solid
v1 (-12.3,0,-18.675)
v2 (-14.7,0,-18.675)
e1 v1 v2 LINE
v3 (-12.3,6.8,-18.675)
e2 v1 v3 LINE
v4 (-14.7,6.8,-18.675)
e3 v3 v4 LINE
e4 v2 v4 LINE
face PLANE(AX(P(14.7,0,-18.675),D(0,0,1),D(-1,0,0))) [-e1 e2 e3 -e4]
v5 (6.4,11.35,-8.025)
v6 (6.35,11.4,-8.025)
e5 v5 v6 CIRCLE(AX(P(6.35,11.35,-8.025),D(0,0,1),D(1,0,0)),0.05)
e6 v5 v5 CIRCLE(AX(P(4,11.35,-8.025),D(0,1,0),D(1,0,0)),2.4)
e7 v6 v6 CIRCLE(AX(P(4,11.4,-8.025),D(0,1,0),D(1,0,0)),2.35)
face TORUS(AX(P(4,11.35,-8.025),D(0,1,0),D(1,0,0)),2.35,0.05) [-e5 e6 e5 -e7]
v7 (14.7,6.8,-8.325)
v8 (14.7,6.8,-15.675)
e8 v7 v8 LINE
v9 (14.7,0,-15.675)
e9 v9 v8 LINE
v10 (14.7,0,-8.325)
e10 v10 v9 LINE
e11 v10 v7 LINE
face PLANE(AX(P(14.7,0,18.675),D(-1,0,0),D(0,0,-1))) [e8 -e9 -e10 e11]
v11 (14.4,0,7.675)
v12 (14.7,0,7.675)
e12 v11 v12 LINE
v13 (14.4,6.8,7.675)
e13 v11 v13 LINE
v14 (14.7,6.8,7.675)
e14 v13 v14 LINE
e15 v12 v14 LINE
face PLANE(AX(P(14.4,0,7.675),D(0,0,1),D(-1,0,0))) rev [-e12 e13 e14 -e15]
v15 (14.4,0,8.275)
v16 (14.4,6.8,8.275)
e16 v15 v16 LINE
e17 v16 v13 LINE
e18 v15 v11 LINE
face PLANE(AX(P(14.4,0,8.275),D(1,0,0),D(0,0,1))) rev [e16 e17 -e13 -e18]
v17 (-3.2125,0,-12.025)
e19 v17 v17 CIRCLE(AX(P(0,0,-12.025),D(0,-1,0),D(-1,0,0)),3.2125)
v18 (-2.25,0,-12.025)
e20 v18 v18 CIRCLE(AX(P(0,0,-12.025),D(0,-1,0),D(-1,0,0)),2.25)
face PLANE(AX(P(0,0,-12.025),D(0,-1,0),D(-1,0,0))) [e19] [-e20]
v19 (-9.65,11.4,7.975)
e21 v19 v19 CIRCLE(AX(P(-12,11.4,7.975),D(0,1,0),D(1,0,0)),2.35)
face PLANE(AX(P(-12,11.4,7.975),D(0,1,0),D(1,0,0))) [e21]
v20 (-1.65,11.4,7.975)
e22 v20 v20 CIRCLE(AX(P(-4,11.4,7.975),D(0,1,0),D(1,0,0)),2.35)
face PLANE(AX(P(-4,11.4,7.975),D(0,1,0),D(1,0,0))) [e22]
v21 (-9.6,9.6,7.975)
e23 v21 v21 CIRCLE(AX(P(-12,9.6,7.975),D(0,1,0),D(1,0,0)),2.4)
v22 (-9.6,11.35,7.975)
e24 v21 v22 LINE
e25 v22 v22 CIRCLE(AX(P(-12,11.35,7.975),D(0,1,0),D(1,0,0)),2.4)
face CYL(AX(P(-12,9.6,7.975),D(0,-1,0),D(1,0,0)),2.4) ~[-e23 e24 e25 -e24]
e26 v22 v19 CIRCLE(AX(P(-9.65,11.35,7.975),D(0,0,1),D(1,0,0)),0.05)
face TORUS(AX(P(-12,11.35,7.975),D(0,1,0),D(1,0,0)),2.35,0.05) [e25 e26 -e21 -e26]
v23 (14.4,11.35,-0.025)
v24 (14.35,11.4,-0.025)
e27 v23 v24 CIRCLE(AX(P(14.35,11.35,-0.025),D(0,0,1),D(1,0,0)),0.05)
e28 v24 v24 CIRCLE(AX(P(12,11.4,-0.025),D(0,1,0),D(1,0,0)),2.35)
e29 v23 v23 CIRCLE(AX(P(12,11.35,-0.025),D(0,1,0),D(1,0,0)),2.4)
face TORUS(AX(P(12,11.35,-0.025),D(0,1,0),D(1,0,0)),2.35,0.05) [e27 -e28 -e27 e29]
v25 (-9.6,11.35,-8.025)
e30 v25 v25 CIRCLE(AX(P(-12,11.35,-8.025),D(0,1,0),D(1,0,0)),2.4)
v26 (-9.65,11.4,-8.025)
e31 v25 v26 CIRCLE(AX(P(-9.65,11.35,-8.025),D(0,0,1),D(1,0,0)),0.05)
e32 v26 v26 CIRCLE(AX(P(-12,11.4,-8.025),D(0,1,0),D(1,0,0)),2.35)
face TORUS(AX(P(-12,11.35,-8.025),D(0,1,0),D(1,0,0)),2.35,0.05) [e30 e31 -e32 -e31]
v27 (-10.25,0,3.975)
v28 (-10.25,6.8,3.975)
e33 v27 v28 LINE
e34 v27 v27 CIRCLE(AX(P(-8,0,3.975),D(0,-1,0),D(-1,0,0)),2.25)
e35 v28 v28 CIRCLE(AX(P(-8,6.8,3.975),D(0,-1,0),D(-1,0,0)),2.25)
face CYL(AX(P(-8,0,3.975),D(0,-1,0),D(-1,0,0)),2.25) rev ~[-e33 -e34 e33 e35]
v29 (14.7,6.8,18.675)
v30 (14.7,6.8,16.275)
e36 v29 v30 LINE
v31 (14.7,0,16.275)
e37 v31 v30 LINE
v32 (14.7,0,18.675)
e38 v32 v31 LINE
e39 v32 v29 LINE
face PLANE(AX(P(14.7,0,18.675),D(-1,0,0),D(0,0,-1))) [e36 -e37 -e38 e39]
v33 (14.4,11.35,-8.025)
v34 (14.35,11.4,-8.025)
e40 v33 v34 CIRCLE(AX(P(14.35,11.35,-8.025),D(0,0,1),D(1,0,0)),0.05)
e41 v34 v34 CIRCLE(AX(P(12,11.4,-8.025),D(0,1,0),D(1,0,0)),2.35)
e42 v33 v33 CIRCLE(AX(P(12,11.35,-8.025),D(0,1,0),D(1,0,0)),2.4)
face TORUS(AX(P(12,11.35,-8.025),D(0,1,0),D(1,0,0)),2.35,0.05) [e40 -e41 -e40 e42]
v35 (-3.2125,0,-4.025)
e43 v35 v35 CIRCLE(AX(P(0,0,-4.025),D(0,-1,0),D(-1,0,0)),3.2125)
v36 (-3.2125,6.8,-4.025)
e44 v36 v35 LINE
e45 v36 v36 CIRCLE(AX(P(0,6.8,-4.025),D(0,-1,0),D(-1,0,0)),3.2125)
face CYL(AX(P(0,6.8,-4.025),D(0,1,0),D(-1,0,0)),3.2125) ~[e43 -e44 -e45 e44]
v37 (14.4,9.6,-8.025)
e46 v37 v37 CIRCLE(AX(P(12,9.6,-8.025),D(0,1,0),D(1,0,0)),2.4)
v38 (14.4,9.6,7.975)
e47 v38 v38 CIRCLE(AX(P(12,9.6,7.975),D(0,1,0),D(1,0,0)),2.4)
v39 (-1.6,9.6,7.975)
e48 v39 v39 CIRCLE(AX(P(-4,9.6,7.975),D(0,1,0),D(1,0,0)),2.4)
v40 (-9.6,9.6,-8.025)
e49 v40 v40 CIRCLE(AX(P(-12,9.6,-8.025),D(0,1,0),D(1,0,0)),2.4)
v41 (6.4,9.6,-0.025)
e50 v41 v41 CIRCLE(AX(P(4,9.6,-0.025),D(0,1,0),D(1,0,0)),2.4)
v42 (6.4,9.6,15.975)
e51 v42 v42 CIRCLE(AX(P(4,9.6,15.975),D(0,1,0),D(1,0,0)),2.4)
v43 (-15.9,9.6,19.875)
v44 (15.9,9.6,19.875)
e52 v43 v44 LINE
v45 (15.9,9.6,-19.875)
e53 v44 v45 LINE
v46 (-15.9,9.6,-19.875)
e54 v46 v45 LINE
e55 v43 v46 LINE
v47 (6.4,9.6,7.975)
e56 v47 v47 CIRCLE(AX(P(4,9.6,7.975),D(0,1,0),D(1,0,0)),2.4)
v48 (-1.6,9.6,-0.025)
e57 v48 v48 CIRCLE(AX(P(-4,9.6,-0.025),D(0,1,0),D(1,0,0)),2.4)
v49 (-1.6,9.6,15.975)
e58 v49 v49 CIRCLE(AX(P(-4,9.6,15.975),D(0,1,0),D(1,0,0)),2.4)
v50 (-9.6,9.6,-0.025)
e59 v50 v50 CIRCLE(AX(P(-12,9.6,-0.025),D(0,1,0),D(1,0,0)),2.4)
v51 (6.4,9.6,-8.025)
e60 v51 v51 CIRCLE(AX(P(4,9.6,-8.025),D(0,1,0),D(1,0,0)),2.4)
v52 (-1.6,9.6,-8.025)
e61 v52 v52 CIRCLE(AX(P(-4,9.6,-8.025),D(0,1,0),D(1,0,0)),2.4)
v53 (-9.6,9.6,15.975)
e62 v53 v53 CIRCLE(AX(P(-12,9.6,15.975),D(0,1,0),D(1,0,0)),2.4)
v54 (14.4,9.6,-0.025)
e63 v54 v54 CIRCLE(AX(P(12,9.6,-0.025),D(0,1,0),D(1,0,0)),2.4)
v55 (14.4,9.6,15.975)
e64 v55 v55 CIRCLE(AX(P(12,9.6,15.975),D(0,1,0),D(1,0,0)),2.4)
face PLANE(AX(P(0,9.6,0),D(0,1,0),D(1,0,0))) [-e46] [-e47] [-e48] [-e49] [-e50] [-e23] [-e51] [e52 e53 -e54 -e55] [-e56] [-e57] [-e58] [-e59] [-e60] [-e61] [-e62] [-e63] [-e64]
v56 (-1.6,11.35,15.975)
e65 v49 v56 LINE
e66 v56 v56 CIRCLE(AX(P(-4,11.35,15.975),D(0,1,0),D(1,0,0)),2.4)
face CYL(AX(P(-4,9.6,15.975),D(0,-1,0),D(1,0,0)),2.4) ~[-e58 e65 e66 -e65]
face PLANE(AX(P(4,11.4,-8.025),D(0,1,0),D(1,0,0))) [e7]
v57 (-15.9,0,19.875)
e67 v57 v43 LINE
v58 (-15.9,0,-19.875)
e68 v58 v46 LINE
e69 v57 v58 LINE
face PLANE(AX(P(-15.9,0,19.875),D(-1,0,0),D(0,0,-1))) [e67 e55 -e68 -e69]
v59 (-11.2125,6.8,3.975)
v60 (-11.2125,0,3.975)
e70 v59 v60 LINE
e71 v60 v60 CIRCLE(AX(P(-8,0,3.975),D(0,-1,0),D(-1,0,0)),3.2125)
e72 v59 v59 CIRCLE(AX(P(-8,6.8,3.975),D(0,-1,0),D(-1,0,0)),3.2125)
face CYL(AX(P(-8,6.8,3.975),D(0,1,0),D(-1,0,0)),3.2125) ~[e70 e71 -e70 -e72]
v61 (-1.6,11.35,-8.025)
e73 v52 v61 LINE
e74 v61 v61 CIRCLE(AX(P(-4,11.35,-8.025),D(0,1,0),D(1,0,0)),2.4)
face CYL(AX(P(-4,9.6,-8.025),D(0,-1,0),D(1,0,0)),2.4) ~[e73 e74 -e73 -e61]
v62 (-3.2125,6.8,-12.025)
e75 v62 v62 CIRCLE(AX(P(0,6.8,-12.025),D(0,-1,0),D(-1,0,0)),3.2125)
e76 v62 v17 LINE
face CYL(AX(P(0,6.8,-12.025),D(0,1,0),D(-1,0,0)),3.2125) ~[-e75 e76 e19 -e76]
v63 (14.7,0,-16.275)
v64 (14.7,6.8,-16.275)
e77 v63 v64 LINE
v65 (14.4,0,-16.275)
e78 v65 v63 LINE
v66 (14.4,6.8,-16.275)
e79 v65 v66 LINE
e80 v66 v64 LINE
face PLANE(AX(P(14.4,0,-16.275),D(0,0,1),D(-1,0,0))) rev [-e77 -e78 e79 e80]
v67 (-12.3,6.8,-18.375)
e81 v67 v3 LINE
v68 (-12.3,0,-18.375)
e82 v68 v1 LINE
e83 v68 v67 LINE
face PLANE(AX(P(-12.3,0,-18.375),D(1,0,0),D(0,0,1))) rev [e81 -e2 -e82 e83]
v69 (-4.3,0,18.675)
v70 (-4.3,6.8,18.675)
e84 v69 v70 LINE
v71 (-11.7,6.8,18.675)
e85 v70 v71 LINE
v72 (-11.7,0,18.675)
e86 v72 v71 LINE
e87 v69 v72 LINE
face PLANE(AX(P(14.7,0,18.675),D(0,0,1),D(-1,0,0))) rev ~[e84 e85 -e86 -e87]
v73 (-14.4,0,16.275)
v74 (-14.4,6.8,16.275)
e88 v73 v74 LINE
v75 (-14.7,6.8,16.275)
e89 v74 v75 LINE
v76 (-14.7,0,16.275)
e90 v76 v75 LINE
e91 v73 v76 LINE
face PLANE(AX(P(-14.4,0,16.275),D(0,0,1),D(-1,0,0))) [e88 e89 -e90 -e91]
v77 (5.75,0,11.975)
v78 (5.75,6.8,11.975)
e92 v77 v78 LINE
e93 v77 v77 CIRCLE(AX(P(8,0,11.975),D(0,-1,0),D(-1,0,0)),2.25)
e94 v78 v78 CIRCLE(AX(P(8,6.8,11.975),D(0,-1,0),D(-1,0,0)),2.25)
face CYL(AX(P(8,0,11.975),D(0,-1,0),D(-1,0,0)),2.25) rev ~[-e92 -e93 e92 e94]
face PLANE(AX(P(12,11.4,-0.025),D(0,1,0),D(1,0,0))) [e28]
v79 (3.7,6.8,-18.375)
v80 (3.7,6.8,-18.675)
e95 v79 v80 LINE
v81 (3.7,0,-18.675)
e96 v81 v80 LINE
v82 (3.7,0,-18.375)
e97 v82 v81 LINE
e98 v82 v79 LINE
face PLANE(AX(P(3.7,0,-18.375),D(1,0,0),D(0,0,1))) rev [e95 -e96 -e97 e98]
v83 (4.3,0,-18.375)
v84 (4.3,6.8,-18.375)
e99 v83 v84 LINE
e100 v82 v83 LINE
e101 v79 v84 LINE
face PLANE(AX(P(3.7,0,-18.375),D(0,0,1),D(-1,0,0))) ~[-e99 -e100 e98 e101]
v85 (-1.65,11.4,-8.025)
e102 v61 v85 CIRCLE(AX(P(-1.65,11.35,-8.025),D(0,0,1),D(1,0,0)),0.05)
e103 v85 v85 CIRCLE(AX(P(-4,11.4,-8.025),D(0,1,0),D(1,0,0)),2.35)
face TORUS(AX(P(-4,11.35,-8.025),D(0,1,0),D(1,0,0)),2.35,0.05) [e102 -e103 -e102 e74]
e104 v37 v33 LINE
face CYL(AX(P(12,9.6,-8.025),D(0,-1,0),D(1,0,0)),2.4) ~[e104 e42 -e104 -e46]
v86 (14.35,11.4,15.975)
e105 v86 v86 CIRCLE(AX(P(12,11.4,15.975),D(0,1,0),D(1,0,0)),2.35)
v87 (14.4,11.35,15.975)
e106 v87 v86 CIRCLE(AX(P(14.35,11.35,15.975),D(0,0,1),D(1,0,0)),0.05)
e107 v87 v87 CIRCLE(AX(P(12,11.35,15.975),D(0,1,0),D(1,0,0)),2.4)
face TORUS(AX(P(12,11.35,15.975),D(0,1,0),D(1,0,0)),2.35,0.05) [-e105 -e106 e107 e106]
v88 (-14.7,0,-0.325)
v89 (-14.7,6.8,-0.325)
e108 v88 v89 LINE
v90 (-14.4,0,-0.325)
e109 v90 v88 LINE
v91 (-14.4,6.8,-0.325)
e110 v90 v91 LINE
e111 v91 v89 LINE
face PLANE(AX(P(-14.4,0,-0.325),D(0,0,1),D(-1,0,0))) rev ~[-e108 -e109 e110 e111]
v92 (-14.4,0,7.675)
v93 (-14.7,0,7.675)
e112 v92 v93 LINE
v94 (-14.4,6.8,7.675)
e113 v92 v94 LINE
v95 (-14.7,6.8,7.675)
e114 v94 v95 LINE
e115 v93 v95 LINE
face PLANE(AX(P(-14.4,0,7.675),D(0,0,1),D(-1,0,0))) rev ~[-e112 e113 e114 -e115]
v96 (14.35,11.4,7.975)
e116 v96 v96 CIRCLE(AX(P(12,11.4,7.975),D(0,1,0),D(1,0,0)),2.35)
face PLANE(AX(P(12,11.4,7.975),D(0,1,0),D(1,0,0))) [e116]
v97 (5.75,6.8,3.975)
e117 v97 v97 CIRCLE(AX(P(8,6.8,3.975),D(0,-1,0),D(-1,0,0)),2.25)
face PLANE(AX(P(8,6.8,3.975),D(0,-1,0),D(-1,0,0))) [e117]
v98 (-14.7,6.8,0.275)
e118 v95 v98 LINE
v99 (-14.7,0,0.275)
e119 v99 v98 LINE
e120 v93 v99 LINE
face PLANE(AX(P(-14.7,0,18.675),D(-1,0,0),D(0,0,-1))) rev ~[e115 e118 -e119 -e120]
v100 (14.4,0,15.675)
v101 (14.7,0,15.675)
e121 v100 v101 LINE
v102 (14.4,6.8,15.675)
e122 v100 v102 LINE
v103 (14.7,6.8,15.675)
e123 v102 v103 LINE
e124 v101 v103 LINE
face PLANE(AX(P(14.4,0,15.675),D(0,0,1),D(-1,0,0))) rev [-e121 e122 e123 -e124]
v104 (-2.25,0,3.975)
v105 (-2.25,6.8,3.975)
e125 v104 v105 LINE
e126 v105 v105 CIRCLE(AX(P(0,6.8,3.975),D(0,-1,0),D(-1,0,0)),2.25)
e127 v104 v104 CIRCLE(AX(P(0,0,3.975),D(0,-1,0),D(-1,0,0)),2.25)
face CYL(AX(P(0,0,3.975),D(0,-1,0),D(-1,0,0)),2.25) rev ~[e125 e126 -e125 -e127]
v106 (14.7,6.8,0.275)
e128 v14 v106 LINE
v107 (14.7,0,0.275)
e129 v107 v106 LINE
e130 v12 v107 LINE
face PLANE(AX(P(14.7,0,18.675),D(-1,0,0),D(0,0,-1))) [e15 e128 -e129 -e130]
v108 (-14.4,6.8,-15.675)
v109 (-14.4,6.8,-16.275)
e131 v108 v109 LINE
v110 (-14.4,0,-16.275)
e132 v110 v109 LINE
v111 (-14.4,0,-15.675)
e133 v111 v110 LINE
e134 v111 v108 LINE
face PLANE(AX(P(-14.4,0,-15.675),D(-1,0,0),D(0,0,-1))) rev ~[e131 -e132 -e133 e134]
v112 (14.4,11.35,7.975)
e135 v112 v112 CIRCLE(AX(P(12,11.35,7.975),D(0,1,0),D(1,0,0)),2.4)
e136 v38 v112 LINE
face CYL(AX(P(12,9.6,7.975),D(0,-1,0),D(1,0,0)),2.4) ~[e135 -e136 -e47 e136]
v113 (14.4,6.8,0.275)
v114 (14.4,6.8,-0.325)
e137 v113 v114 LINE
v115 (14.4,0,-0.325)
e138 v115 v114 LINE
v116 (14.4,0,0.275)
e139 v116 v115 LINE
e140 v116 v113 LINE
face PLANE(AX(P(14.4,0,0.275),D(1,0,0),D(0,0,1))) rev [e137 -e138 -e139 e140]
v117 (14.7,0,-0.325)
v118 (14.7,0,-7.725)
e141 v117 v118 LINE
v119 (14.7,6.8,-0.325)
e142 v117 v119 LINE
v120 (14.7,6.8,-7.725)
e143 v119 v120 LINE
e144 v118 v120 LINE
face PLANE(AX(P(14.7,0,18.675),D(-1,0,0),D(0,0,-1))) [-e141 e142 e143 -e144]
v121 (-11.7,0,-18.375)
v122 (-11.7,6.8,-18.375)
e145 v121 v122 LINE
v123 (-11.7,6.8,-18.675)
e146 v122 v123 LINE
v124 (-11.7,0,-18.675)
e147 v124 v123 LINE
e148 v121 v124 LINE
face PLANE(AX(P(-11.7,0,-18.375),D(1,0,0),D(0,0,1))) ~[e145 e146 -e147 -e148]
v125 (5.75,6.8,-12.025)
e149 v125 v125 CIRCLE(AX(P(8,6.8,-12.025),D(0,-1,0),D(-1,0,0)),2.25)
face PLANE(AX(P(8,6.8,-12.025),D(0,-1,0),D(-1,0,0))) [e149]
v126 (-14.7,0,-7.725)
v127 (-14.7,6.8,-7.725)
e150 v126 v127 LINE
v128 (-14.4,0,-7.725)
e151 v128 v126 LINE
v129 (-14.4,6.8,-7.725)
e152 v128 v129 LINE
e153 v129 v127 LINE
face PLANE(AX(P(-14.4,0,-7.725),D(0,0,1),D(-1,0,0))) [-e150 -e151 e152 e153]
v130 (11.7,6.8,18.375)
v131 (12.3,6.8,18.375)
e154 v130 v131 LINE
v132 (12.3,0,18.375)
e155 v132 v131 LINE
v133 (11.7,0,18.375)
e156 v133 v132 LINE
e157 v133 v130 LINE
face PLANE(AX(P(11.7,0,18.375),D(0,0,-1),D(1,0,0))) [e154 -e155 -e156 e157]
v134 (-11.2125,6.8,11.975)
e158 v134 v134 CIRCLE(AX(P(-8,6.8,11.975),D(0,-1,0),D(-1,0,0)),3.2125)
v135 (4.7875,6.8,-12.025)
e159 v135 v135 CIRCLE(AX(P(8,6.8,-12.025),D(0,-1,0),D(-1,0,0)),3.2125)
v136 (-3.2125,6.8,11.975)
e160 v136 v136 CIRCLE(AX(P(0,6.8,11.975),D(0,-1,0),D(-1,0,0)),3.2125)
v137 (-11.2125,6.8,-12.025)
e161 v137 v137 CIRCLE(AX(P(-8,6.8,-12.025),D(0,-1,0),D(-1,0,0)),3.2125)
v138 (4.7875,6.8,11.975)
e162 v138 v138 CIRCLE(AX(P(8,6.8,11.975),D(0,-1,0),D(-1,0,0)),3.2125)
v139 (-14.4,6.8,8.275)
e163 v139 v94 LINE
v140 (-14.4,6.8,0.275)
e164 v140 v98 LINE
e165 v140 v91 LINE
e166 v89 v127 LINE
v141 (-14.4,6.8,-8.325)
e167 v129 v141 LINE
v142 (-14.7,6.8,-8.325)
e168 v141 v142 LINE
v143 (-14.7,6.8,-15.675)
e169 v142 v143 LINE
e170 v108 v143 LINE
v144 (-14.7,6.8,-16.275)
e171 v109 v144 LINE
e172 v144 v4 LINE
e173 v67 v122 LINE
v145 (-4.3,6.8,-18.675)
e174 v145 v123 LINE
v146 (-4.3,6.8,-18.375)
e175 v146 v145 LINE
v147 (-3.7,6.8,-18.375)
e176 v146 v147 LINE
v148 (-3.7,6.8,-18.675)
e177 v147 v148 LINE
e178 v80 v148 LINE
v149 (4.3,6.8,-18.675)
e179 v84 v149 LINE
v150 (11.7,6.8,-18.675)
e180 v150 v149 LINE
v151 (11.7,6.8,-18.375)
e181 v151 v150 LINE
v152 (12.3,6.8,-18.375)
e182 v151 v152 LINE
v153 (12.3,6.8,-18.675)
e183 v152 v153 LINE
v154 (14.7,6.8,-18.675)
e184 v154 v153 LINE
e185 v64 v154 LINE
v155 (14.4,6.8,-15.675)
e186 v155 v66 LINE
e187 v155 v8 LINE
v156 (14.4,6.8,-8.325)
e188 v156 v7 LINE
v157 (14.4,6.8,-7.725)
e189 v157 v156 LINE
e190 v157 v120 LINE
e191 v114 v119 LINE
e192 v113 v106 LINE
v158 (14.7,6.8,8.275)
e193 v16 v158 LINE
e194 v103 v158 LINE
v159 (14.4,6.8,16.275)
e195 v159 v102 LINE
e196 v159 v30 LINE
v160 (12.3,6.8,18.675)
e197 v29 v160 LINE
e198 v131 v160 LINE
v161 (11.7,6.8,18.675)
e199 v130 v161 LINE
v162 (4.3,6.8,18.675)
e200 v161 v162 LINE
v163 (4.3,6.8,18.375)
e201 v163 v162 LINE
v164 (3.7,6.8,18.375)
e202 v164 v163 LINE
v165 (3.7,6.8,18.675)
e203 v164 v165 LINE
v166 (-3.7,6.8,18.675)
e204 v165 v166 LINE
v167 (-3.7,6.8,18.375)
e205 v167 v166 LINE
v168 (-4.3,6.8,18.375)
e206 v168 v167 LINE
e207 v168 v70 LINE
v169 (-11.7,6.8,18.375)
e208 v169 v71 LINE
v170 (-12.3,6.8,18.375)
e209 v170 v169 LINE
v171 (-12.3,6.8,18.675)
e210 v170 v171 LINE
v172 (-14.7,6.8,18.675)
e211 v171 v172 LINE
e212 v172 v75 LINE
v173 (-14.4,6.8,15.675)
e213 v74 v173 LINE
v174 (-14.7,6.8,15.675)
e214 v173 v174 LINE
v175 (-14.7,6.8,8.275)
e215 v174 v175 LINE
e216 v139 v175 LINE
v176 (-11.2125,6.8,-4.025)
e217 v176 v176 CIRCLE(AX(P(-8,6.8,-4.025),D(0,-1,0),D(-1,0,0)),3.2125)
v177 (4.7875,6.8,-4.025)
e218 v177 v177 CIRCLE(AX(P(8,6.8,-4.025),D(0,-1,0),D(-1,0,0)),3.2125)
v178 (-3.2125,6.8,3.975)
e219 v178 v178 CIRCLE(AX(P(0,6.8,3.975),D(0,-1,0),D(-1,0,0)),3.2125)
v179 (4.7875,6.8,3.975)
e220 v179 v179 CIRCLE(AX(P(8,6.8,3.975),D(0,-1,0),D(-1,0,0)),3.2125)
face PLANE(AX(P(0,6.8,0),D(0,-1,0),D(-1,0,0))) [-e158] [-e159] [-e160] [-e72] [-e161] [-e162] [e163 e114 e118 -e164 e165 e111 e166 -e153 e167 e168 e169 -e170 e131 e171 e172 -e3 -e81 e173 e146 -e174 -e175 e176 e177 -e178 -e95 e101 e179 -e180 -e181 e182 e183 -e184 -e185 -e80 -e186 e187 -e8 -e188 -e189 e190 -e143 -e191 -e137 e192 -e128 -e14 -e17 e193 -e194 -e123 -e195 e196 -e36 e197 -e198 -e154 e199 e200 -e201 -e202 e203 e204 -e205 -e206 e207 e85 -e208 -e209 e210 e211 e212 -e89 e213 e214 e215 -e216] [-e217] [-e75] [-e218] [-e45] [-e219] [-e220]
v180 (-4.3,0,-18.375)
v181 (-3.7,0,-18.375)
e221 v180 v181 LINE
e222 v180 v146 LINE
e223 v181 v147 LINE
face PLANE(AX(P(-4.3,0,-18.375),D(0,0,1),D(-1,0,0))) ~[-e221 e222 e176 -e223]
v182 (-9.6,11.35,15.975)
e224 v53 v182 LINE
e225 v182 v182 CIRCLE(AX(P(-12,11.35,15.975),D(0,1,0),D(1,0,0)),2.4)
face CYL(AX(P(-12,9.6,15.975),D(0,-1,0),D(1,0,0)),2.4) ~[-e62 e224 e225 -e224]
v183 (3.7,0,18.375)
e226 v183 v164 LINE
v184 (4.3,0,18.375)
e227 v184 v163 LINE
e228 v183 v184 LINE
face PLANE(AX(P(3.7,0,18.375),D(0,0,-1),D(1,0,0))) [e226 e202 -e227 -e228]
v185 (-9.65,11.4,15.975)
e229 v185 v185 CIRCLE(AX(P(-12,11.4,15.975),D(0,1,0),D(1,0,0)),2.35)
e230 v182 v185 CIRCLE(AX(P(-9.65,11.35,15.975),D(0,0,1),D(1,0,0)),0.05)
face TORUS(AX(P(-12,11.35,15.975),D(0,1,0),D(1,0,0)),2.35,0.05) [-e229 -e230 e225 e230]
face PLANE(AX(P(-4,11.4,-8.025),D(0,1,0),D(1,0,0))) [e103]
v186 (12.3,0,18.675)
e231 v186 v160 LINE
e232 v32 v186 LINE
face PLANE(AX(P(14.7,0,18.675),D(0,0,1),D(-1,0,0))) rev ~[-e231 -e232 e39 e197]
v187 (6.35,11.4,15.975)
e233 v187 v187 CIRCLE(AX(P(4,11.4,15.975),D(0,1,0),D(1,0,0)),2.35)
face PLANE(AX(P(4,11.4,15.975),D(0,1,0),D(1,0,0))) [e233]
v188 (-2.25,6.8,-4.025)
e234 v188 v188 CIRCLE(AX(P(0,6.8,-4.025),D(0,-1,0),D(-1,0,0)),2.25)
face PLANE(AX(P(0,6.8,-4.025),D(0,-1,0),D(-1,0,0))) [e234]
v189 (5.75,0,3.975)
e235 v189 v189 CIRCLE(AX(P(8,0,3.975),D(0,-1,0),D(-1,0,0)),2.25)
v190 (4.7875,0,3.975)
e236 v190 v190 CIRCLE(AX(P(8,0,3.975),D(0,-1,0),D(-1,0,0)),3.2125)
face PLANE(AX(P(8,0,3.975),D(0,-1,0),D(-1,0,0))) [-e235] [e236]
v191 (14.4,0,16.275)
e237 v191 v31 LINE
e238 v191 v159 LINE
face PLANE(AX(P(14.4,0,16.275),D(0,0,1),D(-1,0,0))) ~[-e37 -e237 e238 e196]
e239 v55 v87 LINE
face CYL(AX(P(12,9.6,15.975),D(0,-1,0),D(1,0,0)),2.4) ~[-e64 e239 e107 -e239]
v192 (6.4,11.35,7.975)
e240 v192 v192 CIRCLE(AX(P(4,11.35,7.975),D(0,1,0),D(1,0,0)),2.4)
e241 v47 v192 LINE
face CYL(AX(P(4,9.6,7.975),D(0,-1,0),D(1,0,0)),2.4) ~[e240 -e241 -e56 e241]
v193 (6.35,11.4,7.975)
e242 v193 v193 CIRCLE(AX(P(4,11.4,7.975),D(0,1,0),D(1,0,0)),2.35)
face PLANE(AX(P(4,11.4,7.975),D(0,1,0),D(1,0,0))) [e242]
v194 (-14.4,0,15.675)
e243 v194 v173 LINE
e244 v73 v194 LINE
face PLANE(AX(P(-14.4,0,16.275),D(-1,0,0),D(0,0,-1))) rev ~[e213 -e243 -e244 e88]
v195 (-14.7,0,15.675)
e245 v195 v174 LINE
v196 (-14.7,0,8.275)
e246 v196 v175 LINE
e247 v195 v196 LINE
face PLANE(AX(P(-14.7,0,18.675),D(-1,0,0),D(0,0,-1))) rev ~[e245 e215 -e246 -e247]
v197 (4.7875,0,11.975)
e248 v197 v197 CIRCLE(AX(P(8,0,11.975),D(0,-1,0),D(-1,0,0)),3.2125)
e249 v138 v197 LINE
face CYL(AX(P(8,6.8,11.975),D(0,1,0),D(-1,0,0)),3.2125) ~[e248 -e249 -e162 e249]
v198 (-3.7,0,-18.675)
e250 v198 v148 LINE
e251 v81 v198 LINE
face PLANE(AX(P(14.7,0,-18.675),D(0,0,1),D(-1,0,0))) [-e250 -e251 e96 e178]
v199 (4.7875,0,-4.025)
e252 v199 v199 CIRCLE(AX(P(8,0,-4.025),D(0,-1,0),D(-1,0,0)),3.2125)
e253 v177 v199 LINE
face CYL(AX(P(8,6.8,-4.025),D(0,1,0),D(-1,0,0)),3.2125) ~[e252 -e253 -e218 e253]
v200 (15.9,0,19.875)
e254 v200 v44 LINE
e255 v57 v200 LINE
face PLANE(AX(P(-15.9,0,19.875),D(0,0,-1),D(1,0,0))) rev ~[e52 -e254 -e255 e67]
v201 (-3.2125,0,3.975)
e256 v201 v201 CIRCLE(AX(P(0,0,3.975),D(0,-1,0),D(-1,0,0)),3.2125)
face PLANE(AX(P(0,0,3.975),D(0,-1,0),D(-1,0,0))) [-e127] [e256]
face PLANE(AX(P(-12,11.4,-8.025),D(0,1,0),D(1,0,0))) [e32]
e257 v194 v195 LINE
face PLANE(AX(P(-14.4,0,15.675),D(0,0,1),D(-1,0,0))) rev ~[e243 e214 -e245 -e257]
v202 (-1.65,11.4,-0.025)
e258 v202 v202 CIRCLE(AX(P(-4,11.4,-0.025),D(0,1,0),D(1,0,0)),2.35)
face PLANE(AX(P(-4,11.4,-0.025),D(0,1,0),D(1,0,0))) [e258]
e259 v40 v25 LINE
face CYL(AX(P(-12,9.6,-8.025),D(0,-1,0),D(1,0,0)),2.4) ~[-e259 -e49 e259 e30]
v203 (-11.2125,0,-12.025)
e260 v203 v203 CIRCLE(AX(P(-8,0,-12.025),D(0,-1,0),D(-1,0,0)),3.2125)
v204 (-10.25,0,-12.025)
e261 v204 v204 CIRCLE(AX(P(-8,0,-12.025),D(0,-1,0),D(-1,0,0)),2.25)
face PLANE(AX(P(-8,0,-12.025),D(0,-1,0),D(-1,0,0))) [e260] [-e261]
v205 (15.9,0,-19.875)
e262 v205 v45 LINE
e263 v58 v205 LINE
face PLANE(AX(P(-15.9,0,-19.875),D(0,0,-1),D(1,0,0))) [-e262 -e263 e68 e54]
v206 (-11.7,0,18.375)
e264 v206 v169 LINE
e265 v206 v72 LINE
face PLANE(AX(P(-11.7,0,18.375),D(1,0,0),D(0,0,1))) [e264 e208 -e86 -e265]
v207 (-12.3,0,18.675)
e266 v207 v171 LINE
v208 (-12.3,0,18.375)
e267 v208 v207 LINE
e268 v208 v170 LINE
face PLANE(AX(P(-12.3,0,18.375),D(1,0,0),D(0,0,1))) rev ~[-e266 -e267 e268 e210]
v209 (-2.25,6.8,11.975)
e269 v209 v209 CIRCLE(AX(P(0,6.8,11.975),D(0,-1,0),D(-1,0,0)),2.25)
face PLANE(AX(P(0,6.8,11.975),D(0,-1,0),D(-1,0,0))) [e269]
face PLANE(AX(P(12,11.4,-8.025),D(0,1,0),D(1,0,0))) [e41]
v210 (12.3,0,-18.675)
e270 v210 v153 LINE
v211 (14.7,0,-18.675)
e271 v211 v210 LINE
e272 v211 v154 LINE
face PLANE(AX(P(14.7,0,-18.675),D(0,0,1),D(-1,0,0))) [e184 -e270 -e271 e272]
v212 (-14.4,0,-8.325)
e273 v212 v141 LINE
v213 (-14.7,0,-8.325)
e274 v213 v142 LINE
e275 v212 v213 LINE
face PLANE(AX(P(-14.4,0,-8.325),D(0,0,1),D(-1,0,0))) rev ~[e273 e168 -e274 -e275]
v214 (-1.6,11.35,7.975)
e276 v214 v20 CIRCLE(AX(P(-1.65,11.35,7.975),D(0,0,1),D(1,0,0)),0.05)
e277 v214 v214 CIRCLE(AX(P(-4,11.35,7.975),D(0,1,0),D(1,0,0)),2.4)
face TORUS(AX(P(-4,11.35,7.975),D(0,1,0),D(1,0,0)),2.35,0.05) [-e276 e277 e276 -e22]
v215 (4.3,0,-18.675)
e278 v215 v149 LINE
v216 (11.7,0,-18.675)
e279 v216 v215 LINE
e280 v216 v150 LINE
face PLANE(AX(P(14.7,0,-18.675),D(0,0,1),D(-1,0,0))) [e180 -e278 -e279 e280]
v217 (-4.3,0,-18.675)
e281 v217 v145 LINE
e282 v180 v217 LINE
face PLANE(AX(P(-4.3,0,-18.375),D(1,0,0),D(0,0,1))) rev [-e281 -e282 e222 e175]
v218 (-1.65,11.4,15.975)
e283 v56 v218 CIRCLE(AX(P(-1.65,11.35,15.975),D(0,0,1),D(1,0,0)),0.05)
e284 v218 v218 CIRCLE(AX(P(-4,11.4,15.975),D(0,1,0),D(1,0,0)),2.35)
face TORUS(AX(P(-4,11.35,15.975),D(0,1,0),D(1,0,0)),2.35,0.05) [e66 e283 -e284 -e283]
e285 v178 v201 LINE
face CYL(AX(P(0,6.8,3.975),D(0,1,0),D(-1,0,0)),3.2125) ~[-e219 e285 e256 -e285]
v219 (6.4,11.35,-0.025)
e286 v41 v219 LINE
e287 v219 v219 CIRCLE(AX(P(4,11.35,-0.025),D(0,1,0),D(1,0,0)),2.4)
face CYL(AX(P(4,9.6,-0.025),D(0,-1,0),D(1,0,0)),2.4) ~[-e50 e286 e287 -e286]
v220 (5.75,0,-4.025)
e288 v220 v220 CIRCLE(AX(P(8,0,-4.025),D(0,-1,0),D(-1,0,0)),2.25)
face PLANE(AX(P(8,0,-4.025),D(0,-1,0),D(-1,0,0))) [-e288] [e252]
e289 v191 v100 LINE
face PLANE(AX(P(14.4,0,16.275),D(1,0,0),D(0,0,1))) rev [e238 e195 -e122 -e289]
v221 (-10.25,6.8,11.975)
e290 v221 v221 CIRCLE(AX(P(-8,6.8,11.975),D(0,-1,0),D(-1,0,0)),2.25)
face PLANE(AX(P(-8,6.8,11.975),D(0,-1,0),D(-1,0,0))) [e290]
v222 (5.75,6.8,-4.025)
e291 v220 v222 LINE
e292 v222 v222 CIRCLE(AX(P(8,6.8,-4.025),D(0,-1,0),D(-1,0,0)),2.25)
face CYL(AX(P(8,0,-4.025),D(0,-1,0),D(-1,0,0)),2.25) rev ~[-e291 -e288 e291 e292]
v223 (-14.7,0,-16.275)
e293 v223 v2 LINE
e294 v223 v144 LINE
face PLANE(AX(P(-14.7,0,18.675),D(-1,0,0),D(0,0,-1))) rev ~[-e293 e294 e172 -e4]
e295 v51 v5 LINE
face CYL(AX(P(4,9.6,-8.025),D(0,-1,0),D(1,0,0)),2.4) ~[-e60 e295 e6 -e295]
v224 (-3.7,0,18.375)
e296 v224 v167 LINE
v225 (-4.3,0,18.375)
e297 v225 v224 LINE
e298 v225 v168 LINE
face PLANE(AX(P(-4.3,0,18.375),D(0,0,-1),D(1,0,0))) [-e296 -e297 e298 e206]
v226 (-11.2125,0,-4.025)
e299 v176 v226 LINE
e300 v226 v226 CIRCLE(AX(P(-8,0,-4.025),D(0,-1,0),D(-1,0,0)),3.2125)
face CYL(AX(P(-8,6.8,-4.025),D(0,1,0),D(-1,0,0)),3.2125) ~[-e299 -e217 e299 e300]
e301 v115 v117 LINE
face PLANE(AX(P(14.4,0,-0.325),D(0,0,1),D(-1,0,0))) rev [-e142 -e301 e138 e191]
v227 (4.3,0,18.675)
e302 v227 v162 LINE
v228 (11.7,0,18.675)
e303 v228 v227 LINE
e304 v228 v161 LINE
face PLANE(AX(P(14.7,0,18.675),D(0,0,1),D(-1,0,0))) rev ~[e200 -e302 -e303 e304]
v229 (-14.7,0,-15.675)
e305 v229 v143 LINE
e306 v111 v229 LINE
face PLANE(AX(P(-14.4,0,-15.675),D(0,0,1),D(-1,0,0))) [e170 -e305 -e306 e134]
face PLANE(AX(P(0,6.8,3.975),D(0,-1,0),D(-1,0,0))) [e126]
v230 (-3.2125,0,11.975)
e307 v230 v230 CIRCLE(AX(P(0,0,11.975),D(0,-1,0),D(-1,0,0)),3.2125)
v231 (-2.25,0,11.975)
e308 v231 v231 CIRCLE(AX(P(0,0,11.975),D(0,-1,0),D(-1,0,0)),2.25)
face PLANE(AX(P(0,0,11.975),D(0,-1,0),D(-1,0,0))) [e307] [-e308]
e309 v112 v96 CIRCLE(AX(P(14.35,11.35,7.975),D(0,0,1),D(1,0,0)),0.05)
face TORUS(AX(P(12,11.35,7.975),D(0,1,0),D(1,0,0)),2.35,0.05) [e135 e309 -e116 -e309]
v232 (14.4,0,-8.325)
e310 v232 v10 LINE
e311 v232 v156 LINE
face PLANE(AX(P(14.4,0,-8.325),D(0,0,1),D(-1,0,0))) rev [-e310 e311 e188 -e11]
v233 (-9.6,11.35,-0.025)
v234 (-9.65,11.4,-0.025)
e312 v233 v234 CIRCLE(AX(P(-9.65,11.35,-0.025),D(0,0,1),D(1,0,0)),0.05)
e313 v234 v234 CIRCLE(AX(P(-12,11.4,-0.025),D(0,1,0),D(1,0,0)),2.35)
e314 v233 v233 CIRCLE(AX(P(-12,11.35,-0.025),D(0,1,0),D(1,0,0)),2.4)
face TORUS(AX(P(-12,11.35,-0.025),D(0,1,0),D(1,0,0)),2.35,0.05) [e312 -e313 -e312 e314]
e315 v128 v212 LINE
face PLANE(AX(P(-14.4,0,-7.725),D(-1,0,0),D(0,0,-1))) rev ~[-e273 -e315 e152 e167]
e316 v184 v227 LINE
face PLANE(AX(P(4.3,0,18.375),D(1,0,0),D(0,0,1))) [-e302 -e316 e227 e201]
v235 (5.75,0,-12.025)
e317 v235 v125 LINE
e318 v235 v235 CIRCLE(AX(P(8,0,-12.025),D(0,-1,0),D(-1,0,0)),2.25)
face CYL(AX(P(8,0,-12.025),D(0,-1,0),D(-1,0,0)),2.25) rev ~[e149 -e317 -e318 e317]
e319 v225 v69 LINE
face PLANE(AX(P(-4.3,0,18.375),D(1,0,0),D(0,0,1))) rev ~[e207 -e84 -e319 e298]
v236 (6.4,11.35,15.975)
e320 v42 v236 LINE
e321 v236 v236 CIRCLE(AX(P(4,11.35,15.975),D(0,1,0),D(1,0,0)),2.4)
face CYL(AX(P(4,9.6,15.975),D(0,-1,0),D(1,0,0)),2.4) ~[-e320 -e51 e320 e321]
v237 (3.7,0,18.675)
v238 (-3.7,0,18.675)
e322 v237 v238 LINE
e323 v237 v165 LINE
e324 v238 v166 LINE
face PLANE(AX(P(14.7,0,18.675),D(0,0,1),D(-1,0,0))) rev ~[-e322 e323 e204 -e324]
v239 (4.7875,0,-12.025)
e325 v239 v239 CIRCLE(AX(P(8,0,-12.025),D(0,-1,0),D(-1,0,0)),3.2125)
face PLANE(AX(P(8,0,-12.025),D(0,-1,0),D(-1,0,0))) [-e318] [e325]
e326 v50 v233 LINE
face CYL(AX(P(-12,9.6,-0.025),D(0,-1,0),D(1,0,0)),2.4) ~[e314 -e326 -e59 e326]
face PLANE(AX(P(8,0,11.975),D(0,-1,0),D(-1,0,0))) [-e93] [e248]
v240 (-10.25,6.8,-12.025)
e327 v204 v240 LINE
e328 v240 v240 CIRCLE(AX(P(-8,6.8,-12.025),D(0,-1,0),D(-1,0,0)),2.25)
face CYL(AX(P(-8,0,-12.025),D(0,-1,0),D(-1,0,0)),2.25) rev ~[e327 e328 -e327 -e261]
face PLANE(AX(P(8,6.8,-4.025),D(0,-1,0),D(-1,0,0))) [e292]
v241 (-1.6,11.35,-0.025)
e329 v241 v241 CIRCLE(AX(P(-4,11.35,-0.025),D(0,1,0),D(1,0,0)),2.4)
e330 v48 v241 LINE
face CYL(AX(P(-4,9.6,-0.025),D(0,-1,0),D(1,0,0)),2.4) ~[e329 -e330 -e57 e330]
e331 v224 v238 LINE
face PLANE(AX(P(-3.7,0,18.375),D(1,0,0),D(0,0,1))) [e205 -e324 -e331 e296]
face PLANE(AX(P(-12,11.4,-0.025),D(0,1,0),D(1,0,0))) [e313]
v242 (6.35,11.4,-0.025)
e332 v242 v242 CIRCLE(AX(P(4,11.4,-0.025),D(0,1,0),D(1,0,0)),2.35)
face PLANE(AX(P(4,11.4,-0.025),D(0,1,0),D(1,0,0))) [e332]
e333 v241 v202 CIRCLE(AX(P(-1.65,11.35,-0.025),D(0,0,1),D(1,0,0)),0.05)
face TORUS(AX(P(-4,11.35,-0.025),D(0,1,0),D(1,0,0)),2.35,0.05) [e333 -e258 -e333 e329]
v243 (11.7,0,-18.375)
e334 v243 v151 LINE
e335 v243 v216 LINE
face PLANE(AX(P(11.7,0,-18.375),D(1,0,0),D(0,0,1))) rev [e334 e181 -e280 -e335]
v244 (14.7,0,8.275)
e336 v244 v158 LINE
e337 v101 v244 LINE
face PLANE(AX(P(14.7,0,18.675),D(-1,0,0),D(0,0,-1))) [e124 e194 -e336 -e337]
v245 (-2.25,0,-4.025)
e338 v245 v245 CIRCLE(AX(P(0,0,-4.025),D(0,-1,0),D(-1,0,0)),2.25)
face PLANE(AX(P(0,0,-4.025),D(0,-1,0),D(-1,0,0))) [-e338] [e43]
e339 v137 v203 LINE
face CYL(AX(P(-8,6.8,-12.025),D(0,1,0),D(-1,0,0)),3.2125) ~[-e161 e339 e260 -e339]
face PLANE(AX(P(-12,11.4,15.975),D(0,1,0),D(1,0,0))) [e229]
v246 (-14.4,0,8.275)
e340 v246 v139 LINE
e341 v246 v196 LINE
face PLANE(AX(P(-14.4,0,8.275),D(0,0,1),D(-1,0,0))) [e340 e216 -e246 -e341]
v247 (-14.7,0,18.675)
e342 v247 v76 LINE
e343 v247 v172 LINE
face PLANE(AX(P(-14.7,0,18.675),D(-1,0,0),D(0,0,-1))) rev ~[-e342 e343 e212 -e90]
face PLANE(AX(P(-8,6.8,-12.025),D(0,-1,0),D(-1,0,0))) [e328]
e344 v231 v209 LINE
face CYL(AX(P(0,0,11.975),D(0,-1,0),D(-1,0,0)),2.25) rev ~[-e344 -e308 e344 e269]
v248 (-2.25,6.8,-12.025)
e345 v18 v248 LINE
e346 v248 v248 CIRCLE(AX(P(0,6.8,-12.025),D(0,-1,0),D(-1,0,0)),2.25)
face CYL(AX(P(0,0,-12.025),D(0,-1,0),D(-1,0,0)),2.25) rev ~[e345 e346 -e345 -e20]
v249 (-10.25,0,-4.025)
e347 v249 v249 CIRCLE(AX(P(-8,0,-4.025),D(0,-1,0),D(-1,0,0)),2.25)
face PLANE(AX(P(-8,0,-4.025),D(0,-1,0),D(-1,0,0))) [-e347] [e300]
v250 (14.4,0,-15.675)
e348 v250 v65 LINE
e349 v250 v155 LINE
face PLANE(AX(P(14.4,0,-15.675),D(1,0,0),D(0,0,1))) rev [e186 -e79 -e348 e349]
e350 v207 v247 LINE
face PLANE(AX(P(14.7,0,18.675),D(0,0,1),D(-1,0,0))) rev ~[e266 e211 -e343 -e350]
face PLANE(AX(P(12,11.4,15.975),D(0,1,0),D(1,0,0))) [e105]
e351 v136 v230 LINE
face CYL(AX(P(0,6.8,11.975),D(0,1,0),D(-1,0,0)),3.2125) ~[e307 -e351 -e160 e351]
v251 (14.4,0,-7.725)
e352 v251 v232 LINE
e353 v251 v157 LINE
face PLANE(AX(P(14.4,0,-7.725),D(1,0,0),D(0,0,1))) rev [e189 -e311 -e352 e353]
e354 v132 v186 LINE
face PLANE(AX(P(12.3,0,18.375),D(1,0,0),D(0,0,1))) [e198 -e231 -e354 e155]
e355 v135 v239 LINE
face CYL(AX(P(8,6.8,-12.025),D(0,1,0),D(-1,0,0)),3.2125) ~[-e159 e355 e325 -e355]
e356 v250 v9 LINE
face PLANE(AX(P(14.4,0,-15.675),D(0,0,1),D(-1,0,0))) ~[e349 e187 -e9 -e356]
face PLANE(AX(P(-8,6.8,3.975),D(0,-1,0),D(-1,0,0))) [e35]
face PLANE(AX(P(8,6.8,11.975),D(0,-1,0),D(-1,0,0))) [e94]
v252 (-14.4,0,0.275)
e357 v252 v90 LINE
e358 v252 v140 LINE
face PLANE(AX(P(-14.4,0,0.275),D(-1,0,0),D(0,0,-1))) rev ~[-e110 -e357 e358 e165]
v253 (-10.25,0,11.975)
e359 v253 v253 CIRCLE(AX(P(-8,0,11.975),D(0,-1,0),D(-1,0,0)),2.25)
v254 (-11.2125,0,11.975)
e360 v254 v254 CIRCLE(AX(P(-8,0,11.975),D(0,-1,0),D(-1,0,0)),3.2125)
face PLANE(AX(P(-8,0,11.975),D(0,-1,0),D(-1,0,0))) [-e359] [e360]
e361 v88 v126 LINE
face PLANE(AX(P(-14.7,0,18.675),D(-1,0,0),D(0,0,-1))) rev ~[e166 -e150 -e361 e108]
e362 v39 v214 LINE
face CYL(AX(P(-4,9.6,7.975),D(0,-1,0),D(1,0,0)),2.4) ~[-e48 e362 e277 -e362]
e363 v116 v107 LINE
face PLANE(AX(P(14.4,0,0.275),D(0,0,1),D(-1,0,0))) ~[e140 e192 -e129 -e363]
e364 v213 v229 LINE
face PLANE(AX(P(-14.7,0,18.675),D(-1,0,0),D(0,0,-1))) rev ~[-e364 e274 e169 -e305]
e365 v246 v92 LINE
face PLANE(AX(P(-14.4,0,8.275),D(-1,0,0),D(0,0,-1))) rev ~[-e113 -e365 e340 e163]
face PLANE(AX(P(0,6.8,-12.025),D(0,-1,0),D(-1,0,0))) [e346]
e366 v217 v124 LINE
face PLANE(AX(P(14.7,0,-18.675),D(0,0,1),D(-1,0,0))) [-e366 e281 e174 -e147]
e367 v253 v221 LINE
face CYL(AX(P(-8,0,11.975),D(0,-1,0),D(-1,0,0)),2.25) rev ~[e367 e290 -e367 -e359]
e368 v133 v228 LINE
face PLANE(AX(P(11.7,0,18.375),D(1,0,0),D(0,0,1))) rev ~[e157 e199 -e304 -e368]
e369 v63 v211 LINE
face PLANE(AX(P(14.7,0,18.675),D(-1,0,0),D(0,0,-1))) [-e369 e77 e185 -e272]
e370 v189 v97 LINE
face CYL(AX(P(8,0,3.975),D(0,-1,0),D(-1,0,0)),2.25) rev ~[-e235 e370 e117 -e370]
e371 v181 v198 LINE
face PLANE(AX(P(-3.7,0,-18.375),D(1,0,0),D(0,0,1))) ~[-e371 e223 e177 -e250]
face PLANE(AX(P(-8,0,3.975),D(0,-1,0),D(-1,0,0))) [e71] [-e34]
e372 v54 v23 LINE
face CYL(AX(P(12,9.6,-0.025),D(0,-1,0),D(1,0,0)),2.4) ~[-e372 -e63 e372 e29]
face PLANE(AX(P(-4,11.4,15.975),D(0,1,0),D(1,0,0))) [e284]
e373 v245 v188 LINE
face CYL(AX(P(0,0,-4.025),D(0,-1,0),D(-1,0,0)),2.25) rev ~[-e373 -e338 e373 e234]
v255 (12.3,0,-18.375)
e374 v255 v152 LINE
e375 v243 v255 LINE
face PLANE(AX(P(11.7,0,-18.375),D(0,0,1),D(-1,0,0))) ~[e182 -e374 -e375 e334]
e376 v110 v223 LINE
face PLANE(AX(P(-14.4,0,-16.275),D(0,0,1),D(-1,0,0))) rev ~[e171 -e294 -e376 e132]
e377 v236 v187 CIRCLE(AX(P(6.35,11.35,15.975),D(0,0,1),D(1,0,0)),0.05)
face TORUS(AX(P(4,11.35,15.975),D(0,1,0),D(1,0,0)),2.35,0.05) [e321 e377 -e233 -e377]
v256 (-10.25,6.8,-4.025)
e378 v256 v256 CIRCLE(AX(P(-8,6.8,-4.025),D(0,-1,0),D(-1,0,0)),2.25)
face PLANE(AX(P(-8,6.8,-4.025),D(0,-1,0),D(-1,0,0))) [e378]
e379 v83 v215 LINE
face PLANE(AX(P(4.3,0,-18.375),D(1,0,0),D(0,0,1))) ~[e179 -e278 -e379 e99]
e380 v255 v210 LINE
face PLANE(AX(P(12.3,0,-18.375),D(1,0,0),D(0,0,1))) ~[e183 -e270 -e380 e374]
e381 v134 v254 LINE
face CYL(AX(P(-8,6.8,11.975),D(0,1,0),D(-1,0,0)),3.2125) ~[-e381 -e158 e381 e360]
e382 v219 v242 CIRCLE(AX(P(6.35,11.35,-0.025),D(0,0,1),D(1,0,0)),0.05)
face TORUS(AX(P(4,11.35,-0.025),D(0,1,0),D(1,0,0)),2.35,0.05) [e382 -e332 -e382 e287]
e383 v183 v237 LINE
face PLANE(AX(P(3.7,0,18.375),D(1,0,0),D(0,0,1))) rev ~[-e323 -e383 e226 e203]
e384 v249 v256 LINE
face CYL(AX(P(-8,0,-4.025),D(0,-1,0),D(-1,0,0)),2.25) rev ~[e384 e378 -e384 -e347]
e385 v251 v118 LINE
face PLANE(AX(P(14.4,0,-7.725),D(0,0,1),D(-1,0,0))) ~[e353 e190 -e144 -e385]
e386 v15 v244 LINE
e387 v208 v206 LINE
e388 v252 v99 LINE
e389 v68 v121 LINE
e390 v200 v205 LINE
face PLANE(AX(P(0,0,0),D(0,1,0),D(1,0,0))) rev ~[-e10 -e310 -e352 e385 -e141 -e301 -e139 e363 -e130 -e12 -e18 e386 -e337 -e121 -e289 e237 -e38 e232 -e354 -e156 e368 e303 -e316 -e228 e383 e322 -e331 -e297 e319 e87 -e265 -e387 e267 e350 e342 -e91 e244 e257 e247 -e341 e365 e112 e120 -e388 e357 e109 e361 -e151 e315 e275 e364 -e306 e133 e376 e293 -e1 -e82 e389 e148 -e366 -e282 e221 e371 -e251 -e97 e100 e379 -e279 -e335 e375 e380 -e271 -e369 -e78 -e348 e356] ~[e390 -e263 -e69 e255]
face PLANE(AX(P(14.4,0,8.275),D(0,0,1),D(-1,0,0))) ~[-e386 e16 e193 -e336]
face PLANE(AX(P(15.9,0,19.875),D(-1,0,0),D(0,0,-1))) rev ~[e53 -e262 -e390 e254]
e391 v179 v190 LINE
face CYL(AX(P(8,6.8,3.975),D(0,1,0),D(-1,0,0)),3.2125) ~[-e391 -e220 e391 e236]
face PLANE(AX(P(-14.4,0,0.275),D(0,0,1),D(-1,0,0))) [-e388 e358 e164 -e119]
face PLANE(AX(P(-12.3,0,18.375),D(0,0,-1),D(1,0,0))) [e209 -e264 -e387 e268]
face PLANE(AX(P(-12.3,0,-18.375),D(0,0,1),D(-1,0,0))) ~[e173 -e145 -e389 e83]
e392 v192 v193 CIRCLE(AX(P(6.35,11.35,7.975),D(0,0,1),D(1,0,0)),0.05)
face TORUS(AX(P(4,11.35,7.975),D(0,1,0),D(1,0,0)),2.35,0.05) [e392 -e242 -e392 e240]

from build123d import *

# Parameters (mm, degrees)
SKETCH1_W                 = 31.8
SKETCH1_H                 = 39.75
BOSS_EXTRUDE1_DEPTH       = 9.6
SKETCH2_R                 = 2.4
BOSS_EXTRUDE2_DEPTH       = 1.8
LPATTERN1_COUNT           = 4
LPATTERN1_PITCH           = 8
LPATTERN2_COUNT           = 4
LPATTERN2_PITCH           = 8
LPATTERN2_COPY_1_SKETCH_R = 2.4
LPATTERN2_COPY_1_DEPTH    = 1.8
LPATTERN2_COPY_2_SKETCH_R = 2.4
LPATTERN2_COPY_2_DEPTH    = 1.8
LPATTERN2_COPY_3_SKETCH_R = 2.4
LPATTERN2_COPY_3_DEPTH    = 1.8
LPATTERN2_COPY_4_SKETCH_R = 2.4
LPATTERN2_COPY_4_DEPTH    = 1.8
LPATTERN2_COPY_5_SKETCH_R = 2.4
LPATTERN2_COPY_5_DEPTH    = 1.8
LPATTERN2_COPY_6_SKETCH_R = 2.4
LPATTERN2_COPY_6_DEPTH    = 1.8
LPATTERN2_COPY_7_SKETCH_R = 2.4
LPATTERN2_COPY_7_DEPTH    = 1.8
LPATTERN2_COPY_8_SKETCH_R = 2.4
LPATTERN2_COPY_8_DEPTH    = 1.8
LPATTERN2_COPY_9_SKETCH_R = 2.4
LPATTERN2_COPY_9_DEPTH    = 1.8
FILLET1_R                 = 0.05
SKETCH3_W                 = 29.4
SKETCH3_H                 = 37.35
CUT_EXTRUDE1_DEPTH        = 6.8
SKETCH4_R                 = 3.2125
BOSS_EXTRUDE3_DEPTH       = 6.8
SKETCH5_R                 = 2.25
CUT_EXTRUDE2_DEPTH        = 6.8
LPATTERN3_COUNT           = 3
LPATTERN3_PITCH           = 8
LPATTERN4_COUNT           = 3
LPATTERN4_PITCH           = 8
LPATTERN4_COPY_1_SKETCH_R = 3.2125
LPATTERN4_COPY_1_DEPTH    = 6.8
LPATTERN4_COPY_2_SKETCH_R = 3.2125
LPATTERN4_COPY_2_DEPTH    = 6.8
LPATTERN4_COPY_3_SKETCH_R = 3.2125
LPATTERN4_COPY_3_DEPTH    = 6.8
LPATTERN4_COPY_4_SKETCH_R = 3.2125
LPATTERN4_COPY_4_DEPTH    = 6.8
LPATTERN4_COPY_5_SKETCH_R = 2.25
LPATTERN4_COPY_5_DEPTH    = 6.8
LPATTERN4_COPY_6_SKETCH_R = 2.25
LPATTERN4_COPY_6_DEPTH    = 6.8
LPATTERN4_COPY_7_SKETCH_R = 2.25
LPATTERN4_COPY_7_DEPTH    = 6.8
LPATTERN4_COPY_8_SKETCH_R = 2.25
LPATTERN4_COPY_8_DEPTH    = 6.8
LPATTERN5_COUNT           = 2
LPATTERN5_PITCH           = 8
LPATTERN5_COPY_1_SKETCH_R = 3.2125
LPATTERN5_COPY_1_DEPTH    = 6.8
LPATTERN5_COPY_2_SKETCH_R = 3.2125
LPATTERN5_COPY_2_DEPTH    = 6.8
LPATTERN5_COPY_3_SKETCH_R = 2.25
LPATTERN5_COPY_3_DEPTH    = 6.8
LPATTERN5_COPY_4_SKETCH_R = 2.25
LPATTERN5_COPY_4_DEPTH    = 6.8
SKETCH6_W                 = 0.3
SKETCH6_H                 = 0.6
BOSS_EXTRUDE4_DEPTH       = 6.8
SKETCH7_W                 = 0.6
SKETCH7_H                 = 0.3
BOSS_EXTRUDE5_DEPTH       = 6.8


with BuildPart() as part:
    # Sketch1 → Boss-Extrude1 (new body)
    with BuildSketch(Plane(origin=(0, 0, 0), x_dir=(1, 0, 0), z_dir=(0, 1, 0))):
        Rectangle(SKETCH1_W, SKETCH1_H)
    extrude(amount=BOSS_EXTRUDE1_DEPTH)

    # Sketch2 → Boss-Extrude2 (add)
    with BuildSketch(Plane(origin=(0, 9.6, 0), x_dir=(1, 0, 0), z_dir=(0, 1, 0))):
        with Locations((-12, -15.975)):
            Circle(SKETCH2_R)
    boss_extrude2 = extrude(amount=BOSS_EXTRUDE2_DEPTH)

    # LPattern1: Boss-Extrude2 ×4
    with Locations(*[(0, 0, -i * LPATTERN1_PITCH) for i in range(1, LPATTERN1_COUNT)]):
        add(boss_extrude2)

    # LPattern2: Boss-Extrude2 ×4
    with Locations(*[(i * LPATTERN2_PITCH, 0, 0) for i in range(1, LPATTERN2_COUNT)]):
        add(boss_extrude2)

    # LPattern2 copy 1 sketch → LPattern2 copy 1 (add)
    with BuildSketch(Plane(origin=(8, 9.6, -8), x_dir=(1, 0, 0), z_dir=(0, 1, 0))):
        with Locations((-12, -15.975)):
            Circle(LPATTERN2_COPY_1_SKETCH_R)
    extrude(amount=LPATTERN2_COPY_1_DEPTH)

    # LPattern2 copy 2 sketch → LPattern2 copy 2 (add)
    with BuildSketch(Plane(origin=(16, 9.6, -8), x_dir=(1, 0, 0), z_dir=(0, 1, 0))):
        with Locations((-12, -15.975)):
            Circle(LPATTERN2_COPY_2_SKETCH_R)
    extrude(amount=LPATTERN2_COPY_2_DEPTH)

    # LPattern2 copy 3 sketch → LPattern2 copy 3 (add)
    with BuildSketch(Plane(origin=(24, 9.6, -8), x_dir=(1, 0, 0), z_dir=(0, 1, 0))):
        with Locations((-12, -15.975)):
            Circle(LPATTERN2_COPY_3_SKETCH_R)
    extrude(amount=LPATTERN2_COPY_3_DEPTH)

    # LPattern2 copy 4 sketch → LPattern2 copy 4 (add)
    with BuildSketch(Plane(origin=(8, 9.6, -16), x_dir=(1, 0, 0), z_dir=(0, 1, 0))):
        with Locations((-12, -15.975)):
            Circle(LPATTERN2_COPY_4_SKETCH_R)
    extrude(amount=LPATTERN2_COPY_4_DEPTH)

    # LPattern2 copy 5 sketch → LPattern2 copy 5 (add)
    with BuildSketch(Plane(origin=(16, 9.6, -16), x_dir=(1, 0, 0), z_dir=(0, 1, 0))):
        with Locations((-12, -15.975)):
            Circle(LPATTERN2_COPY_5_SKETCH_R)
    extrude(amount=LPATTERN2_COPY_5_DEPTH)

    # LPattern2 copy 6 sketch → LPattern2 copy 6 (add)
    with BuildSketch(Plane(origin=(24, 9.6, -16), x_dir=(1, 0, 0), z_dir=(0, 1, 0))):
        with Locations((-12, -15.975)):
            Circle(LPATTERN2_COPY_6_SKETCH_R)
    extrude(amount=LPATTERN2_COPY_6_DEPTH)

    # LPattern2 copy 7 sketch → LPattern2 copy 7 (add)
    with BuildSketch(Plane(origin=(8, 9.6, -24), x_dir=(1, 0, 0), z_dir=(0, 1, 0))):
        with Locations((-12, -15.975)):
            Circle(LPATTERN2_COPY_7_SKETCH_R)
    extrude(amount=LPATTERN2_COPY_7_DEPTH)

    # LPattern2 copy 8 sketch → LPattern2 copy 8 (add)
    with BuildSketch(Plane(origin=(16, 9.6, -24), x_dir=(1, 0, 0), z_dir=(0, 1, 0))):
        with Locations((-12, -15.975)):
            Circle(LPATTERN2_COPY_8_SKETCH_R)
    extrude(amount=LPATTERN2_COPY_8_DEPTH)

    # LPattern2 copy 9 sketch → LPattern2 copy 9 (add)
    with BuildSketch(Plane(origin=(24, 9.6, -24), x_dir=(1, 0, 0), z_dir=(0, 1, 0))):
        with Locations((-12, -15.975)):
            Circle(LPATTERN2_COPY_9_SKETCH_R)
    extrude(amount=LPATTERN2_COPY_9_DEPTH)

    # Fillet1
    fillet1_edges = [part.edges().sort_by_distance(p)[0] for p in [
        (-14.4, 11.4, 15.975),
        (-14.4, 11.4, 7.975),
        (-14.4, 11.4, -0.025),
        (-14.4, 11.4, -8.025),
        (-6.4, 11.4, 7.975),
        (1.6, 11.4, 7.975),
        (9.6, 11.4, 7.975),
        (-6.4, 11.4, 15.975),
        (1.6, 11.4, 15.975),
        (9.6, 11.4, 15.975),
        (-6.4, 11.4, -8.025),
        (1.6, 11.4, -8.025),
        (9.6, 11.4, -8.025),
        (-6.4, 11.4, -0.025),
        (1.6, 11.4, -0.025),
        (9.6, 11.4, -0.025),
    ]]
    fillet(fillet1_edges, radius=FILLET1_R)

    # Sketch3 → Cut-Extrude1 (cut)
    with BuildSketch(Plane(origin=(0, 0, 0), x_dir=(-1, 0, 0), z_dir=(0, -1, 0))):
        Rectangle(SKETCH3_W, SKETCH3_H)
    extrude(amount=-CUT_EXTRUDE1_DEPTH, mode=Mode.SUBTRACT)

    # Sketch4 → Boss-Extrude3 (add)
    with BuildSketch(Plane(origin=(0, 6.8, 0), x_dir=(-1, 0, 0), z_dir=(0, -1, 0))):
        with Locations((-8, 4.025)):
            Circle(SKETCH4_R)
    boss_extrude3 = extrude(amount=BOSS_EXTRUDE3_DEPTH)

    # Sketch5 → Cut-Extrude2 (cut)
    with BuildSketch(Plane(origin=(0, 0, 0), x_dir=(-1, 0, 0), z_dir=(0, -1, 0))):
        with Locations((-8, 4.025)):
            Circle(SKETCH5_R)
    cut_extrude2 = extrude(amount=-CUT_EXTRUDE2_DEPTH, mode=Mode.SUBTRACT)

    # LPattern3: Boss-Extrude3, Cut-Extrude2 ×3
    with Locations(*[(-i * LPATTERN3_PITCH, 0, 0) for i in range(1, LPATTERN3_COUNT)]):
        add(boss_extrude3)
        add(cut_extrude2, mode=Mode.SUBTRACT)

    # LPattern4: Boss-Extrude3, Cut-Extrude2 ×3
    with Locations(*[(0, 0, i * LPATTERN4_PITCH) for i in range(1, LPATTERN4_COUNT)]):
        add(boss_extrude3)
        add(cut_extrude2, mode=Mode.SUBTRACT)

    # LPattern4 copy 1 sketch → LPattern4 copy 1 (add)
    with BuildSketch(Plane(origin=(-8, 6.8, 8), x_dir=(-1, 0, 0), z_dir=(0, -1, 0))):
        with Locations((-8, 4.025)):
            Circle(LPATTERN4_COPY_1_SKETCH_R)
    extrude(amount=LPATTERN4_COPY_1_DEPTH)

    # LPattern4 copy 2 sketch → LPattern4 copy 2 (add)
    with BuildSketch(Plane(origin=(-8, 6.8, 16), x_dir=(-1, 0, 0), z_dir=(0, -1, 0))):
        with Locations((-8, 4.025)):
            Circle(LPATTERN4_COPY_2_SKETCH_R)
    extrude(amount=LPATTERN4_COPY_2_DEPTH)

    # LPattern4 copy 3 sketch → LPattern4 copy 3 (add)
    with BuildSketch(Plane(origin=(-16, 6.8, 8), x_dir=(-1, 0, 0), z_dir=(0, -1, 0))):
        with Locations((-8, 4.025)):
            Circle(LPATTERN4_COPY_3_SKETCH_R)
    extrude(amount=LPATTERN4_COPY_3_DEPTH)

    # LPattern4 copy 4 sketch → LPattern4 copy 4 (add)
    with BuildSketch(Plane(origin=(-16, 6.8, 16), x_dir=(-1, 0, 0), z_dir=(0, -1, 0))):
        with Locations((-8, 4.025)):
            Circle(LPATTERN4_COPY_4_SKETCH_R)
    extrude(amount=LPATTERN4_COPY_4_DEPTH)

    # LPattern4 copy 5 sketch → LPattern4 copy 5 (cut)
    with BuildSketch(Plane(origin=(-8, 0, 8), x_dir=(-1, 0, 0), z_dir=(0, -1, 0))):
        with Locations((-8, 4.025)):
            Circle(LPATTERN4_COPY_5_SKETCH_R)
    extrude(amount=-LPATTERN4_COPY_5_DEPTH, mode=Mode.SUBTRACT)

    # LPattern4 copy 6 sketch → LPattern4 copy 6 (cut)
    with BuildSketch(Plane(origin=(-8, 0, 16), x_dir=(-1, 0, 0), z_dir=(0, -1, 0))):
        with Locations((-8, 4.025)):
            Circle(LPATTERN4_COPY_6_SKETCH_R)
    extrude(amount=-LPATTERN4_COPY_6_DEPTH, mode=Mode.SUBTRACT)

    # LPattern4 copy 7 sketch → LPattern4 copy 7 (cut)
    with BuildSketch(Plane(origin=(-16, 0, 8), x_dir=(-1, 0, 0), z_dir=(0, -1, 0))):
        with Locations((-8, 4.025)):
            Circle(LPATTERN4_COPY_7_SKETCH_R)
    extrude(amount=-LPATTERN4_COPY_7_DEPTH, mode=Mode.SUBTRACT)

    # LPattern4 copy 8 sketch → LPattern4 copy 8 (cut)
    with BuildSketch(Plane(origin=(-16, 0, 16), x_dir=(-1, 0, 0), z_dir=(0, -1, 0))):
        with Locations((-8, 4.025)):
            Circle(LPATTERN4_COPY_8_SKETCH_R)
    extrude(amount=-LPATTERN4_COPY_8_DEPTH, mode=Mode.SUBTRACT)

    # LPattern5: Boss-Extrude3, Cut-Extrude2 ×2
    with Locations(*[(0, 0, -i * LPATTERN5_PITCH) for i in range(1, LPATTERN5_COUNT)]):
        add(boss_extrude3)
        add(cut_extrude2, mode=Mode.SUBTRACT)

    # LPattern5 copy 1 sketch → LPattern5 copy 1 (add)
    with BuildSketch(Plane(origin=(-8, 6.8, -8), x_dir=(-1, 0, 0), z_dir=(0, -1, 0))):
        with Locations((-8, 4.025)):
            Circle(LPATTERN5_COPY_1_SKETCH_R)
    extrude(amount=LPATTERN5_COPY_1_DEPTH)

    # LPattern5 copy 2 sketch → LPattern5 copy 2 (add)
    with BuildSketch(Plane(origin=(-16, 6.8, -8), x_dir=(-1, 0, 0), z_dir=(0, -1, 0))):
        with Locations((-8, 4.025)):
            Circle(LPATTERN5_COPY_2_SKETCH_R)
    extrude(amount=LPATTERN5_COPY_2_DEPTH)

    # LPattern5 copy 3 sketch → LPattern5 copy 3 (cut)
    with BuildSketch(Plane(origin=(-8, 0, -8), x_dir=(-1, 0, 0), z_dir=(0, -1, 0))):
        with Locations((-8, 4.025)):
            Circle(LPATTERN5_COPY_3_SKETCH_R)
    extrude(amount=-LPATTERN5_COPY_3_DEPTH, mode=Mode.SUBTRACT)

    # LPattern5 copy 4 sketch → LPattern5 copy 4 (cut)
    with BuildSketch(Plane(origin=(-16, 0, -8), x_dir=(-1, 0, 0), z_dir=(0, -1, 0))):
        with Locations((-8, 4.025)):
            Circle(LPATTERN5_COPY_4_SKETCH_R)
    extrude(amount=-LPATTERN5_COPY_4_DEPTH, mode=Mode.SUBTRACT)

    # Sketch6 → Boss-Extrude4 (add)
    with BuildSketch(Plane(origin=(0, 0, 0), x_dir=(-1, 0, 0), z_dir=(0, -1, 0))):
        with Locations((14.55, -15.975)):
            Rectangle(SKETCH6_W, SKETCH6_H)
        with Locations((14.55, -7.975)):
            Rectangle(SKETCH6_W, SKETCH6_H)
        with Locations((14.55, 0.025)):
            Rectangle(SKETCH6_W, SKETCH6_H)
        with Locations((14.55, 15.975)):
            Rectangle(SKETCH6_W, SKETCH6_H)
        with Locations((14.55, 8.025)):
            Rectangle(SKETCH6_W, SKETCH6_H)
    boss_extrude4 = extrude(amount=-BOSS_EXTRUDE4_DEPTH)

    # Mirror1: Boss-Extrude4 across plane
    add(boss_extrude4.mirror(Plane(origin=(0, 0, 0), x_dir=(0, 0, 1), z_dir=(1, 0, 0))))

    # Sketch7 → Boss-Extrude5 (add)
    with BuildSketch(Plane.XZ):
        with Locations((-12, 18.525)):
            Rectangle(SKETCH7_W, SKETCH7_H)
        with Locations((-4, 18.525)):
            Rectangle(SKETCH7_W, SKETCH7_H)
        with Locations((4, 18.525)):
            Rectangle(SKETCH7_W, SKETCH7_H)
        with Locations((12, 18.525)):
            Rectangle(SKETCH7_W, SKETCH7_H)
    boss_extrude5 = extrude(amount=-BOSS_EXTRUDE5_DEPTH)

    # Mirror2: Boss-Extrude5 across plane
    add(boss_extrude5.mirror(Plane.XY))


solid = part.part
